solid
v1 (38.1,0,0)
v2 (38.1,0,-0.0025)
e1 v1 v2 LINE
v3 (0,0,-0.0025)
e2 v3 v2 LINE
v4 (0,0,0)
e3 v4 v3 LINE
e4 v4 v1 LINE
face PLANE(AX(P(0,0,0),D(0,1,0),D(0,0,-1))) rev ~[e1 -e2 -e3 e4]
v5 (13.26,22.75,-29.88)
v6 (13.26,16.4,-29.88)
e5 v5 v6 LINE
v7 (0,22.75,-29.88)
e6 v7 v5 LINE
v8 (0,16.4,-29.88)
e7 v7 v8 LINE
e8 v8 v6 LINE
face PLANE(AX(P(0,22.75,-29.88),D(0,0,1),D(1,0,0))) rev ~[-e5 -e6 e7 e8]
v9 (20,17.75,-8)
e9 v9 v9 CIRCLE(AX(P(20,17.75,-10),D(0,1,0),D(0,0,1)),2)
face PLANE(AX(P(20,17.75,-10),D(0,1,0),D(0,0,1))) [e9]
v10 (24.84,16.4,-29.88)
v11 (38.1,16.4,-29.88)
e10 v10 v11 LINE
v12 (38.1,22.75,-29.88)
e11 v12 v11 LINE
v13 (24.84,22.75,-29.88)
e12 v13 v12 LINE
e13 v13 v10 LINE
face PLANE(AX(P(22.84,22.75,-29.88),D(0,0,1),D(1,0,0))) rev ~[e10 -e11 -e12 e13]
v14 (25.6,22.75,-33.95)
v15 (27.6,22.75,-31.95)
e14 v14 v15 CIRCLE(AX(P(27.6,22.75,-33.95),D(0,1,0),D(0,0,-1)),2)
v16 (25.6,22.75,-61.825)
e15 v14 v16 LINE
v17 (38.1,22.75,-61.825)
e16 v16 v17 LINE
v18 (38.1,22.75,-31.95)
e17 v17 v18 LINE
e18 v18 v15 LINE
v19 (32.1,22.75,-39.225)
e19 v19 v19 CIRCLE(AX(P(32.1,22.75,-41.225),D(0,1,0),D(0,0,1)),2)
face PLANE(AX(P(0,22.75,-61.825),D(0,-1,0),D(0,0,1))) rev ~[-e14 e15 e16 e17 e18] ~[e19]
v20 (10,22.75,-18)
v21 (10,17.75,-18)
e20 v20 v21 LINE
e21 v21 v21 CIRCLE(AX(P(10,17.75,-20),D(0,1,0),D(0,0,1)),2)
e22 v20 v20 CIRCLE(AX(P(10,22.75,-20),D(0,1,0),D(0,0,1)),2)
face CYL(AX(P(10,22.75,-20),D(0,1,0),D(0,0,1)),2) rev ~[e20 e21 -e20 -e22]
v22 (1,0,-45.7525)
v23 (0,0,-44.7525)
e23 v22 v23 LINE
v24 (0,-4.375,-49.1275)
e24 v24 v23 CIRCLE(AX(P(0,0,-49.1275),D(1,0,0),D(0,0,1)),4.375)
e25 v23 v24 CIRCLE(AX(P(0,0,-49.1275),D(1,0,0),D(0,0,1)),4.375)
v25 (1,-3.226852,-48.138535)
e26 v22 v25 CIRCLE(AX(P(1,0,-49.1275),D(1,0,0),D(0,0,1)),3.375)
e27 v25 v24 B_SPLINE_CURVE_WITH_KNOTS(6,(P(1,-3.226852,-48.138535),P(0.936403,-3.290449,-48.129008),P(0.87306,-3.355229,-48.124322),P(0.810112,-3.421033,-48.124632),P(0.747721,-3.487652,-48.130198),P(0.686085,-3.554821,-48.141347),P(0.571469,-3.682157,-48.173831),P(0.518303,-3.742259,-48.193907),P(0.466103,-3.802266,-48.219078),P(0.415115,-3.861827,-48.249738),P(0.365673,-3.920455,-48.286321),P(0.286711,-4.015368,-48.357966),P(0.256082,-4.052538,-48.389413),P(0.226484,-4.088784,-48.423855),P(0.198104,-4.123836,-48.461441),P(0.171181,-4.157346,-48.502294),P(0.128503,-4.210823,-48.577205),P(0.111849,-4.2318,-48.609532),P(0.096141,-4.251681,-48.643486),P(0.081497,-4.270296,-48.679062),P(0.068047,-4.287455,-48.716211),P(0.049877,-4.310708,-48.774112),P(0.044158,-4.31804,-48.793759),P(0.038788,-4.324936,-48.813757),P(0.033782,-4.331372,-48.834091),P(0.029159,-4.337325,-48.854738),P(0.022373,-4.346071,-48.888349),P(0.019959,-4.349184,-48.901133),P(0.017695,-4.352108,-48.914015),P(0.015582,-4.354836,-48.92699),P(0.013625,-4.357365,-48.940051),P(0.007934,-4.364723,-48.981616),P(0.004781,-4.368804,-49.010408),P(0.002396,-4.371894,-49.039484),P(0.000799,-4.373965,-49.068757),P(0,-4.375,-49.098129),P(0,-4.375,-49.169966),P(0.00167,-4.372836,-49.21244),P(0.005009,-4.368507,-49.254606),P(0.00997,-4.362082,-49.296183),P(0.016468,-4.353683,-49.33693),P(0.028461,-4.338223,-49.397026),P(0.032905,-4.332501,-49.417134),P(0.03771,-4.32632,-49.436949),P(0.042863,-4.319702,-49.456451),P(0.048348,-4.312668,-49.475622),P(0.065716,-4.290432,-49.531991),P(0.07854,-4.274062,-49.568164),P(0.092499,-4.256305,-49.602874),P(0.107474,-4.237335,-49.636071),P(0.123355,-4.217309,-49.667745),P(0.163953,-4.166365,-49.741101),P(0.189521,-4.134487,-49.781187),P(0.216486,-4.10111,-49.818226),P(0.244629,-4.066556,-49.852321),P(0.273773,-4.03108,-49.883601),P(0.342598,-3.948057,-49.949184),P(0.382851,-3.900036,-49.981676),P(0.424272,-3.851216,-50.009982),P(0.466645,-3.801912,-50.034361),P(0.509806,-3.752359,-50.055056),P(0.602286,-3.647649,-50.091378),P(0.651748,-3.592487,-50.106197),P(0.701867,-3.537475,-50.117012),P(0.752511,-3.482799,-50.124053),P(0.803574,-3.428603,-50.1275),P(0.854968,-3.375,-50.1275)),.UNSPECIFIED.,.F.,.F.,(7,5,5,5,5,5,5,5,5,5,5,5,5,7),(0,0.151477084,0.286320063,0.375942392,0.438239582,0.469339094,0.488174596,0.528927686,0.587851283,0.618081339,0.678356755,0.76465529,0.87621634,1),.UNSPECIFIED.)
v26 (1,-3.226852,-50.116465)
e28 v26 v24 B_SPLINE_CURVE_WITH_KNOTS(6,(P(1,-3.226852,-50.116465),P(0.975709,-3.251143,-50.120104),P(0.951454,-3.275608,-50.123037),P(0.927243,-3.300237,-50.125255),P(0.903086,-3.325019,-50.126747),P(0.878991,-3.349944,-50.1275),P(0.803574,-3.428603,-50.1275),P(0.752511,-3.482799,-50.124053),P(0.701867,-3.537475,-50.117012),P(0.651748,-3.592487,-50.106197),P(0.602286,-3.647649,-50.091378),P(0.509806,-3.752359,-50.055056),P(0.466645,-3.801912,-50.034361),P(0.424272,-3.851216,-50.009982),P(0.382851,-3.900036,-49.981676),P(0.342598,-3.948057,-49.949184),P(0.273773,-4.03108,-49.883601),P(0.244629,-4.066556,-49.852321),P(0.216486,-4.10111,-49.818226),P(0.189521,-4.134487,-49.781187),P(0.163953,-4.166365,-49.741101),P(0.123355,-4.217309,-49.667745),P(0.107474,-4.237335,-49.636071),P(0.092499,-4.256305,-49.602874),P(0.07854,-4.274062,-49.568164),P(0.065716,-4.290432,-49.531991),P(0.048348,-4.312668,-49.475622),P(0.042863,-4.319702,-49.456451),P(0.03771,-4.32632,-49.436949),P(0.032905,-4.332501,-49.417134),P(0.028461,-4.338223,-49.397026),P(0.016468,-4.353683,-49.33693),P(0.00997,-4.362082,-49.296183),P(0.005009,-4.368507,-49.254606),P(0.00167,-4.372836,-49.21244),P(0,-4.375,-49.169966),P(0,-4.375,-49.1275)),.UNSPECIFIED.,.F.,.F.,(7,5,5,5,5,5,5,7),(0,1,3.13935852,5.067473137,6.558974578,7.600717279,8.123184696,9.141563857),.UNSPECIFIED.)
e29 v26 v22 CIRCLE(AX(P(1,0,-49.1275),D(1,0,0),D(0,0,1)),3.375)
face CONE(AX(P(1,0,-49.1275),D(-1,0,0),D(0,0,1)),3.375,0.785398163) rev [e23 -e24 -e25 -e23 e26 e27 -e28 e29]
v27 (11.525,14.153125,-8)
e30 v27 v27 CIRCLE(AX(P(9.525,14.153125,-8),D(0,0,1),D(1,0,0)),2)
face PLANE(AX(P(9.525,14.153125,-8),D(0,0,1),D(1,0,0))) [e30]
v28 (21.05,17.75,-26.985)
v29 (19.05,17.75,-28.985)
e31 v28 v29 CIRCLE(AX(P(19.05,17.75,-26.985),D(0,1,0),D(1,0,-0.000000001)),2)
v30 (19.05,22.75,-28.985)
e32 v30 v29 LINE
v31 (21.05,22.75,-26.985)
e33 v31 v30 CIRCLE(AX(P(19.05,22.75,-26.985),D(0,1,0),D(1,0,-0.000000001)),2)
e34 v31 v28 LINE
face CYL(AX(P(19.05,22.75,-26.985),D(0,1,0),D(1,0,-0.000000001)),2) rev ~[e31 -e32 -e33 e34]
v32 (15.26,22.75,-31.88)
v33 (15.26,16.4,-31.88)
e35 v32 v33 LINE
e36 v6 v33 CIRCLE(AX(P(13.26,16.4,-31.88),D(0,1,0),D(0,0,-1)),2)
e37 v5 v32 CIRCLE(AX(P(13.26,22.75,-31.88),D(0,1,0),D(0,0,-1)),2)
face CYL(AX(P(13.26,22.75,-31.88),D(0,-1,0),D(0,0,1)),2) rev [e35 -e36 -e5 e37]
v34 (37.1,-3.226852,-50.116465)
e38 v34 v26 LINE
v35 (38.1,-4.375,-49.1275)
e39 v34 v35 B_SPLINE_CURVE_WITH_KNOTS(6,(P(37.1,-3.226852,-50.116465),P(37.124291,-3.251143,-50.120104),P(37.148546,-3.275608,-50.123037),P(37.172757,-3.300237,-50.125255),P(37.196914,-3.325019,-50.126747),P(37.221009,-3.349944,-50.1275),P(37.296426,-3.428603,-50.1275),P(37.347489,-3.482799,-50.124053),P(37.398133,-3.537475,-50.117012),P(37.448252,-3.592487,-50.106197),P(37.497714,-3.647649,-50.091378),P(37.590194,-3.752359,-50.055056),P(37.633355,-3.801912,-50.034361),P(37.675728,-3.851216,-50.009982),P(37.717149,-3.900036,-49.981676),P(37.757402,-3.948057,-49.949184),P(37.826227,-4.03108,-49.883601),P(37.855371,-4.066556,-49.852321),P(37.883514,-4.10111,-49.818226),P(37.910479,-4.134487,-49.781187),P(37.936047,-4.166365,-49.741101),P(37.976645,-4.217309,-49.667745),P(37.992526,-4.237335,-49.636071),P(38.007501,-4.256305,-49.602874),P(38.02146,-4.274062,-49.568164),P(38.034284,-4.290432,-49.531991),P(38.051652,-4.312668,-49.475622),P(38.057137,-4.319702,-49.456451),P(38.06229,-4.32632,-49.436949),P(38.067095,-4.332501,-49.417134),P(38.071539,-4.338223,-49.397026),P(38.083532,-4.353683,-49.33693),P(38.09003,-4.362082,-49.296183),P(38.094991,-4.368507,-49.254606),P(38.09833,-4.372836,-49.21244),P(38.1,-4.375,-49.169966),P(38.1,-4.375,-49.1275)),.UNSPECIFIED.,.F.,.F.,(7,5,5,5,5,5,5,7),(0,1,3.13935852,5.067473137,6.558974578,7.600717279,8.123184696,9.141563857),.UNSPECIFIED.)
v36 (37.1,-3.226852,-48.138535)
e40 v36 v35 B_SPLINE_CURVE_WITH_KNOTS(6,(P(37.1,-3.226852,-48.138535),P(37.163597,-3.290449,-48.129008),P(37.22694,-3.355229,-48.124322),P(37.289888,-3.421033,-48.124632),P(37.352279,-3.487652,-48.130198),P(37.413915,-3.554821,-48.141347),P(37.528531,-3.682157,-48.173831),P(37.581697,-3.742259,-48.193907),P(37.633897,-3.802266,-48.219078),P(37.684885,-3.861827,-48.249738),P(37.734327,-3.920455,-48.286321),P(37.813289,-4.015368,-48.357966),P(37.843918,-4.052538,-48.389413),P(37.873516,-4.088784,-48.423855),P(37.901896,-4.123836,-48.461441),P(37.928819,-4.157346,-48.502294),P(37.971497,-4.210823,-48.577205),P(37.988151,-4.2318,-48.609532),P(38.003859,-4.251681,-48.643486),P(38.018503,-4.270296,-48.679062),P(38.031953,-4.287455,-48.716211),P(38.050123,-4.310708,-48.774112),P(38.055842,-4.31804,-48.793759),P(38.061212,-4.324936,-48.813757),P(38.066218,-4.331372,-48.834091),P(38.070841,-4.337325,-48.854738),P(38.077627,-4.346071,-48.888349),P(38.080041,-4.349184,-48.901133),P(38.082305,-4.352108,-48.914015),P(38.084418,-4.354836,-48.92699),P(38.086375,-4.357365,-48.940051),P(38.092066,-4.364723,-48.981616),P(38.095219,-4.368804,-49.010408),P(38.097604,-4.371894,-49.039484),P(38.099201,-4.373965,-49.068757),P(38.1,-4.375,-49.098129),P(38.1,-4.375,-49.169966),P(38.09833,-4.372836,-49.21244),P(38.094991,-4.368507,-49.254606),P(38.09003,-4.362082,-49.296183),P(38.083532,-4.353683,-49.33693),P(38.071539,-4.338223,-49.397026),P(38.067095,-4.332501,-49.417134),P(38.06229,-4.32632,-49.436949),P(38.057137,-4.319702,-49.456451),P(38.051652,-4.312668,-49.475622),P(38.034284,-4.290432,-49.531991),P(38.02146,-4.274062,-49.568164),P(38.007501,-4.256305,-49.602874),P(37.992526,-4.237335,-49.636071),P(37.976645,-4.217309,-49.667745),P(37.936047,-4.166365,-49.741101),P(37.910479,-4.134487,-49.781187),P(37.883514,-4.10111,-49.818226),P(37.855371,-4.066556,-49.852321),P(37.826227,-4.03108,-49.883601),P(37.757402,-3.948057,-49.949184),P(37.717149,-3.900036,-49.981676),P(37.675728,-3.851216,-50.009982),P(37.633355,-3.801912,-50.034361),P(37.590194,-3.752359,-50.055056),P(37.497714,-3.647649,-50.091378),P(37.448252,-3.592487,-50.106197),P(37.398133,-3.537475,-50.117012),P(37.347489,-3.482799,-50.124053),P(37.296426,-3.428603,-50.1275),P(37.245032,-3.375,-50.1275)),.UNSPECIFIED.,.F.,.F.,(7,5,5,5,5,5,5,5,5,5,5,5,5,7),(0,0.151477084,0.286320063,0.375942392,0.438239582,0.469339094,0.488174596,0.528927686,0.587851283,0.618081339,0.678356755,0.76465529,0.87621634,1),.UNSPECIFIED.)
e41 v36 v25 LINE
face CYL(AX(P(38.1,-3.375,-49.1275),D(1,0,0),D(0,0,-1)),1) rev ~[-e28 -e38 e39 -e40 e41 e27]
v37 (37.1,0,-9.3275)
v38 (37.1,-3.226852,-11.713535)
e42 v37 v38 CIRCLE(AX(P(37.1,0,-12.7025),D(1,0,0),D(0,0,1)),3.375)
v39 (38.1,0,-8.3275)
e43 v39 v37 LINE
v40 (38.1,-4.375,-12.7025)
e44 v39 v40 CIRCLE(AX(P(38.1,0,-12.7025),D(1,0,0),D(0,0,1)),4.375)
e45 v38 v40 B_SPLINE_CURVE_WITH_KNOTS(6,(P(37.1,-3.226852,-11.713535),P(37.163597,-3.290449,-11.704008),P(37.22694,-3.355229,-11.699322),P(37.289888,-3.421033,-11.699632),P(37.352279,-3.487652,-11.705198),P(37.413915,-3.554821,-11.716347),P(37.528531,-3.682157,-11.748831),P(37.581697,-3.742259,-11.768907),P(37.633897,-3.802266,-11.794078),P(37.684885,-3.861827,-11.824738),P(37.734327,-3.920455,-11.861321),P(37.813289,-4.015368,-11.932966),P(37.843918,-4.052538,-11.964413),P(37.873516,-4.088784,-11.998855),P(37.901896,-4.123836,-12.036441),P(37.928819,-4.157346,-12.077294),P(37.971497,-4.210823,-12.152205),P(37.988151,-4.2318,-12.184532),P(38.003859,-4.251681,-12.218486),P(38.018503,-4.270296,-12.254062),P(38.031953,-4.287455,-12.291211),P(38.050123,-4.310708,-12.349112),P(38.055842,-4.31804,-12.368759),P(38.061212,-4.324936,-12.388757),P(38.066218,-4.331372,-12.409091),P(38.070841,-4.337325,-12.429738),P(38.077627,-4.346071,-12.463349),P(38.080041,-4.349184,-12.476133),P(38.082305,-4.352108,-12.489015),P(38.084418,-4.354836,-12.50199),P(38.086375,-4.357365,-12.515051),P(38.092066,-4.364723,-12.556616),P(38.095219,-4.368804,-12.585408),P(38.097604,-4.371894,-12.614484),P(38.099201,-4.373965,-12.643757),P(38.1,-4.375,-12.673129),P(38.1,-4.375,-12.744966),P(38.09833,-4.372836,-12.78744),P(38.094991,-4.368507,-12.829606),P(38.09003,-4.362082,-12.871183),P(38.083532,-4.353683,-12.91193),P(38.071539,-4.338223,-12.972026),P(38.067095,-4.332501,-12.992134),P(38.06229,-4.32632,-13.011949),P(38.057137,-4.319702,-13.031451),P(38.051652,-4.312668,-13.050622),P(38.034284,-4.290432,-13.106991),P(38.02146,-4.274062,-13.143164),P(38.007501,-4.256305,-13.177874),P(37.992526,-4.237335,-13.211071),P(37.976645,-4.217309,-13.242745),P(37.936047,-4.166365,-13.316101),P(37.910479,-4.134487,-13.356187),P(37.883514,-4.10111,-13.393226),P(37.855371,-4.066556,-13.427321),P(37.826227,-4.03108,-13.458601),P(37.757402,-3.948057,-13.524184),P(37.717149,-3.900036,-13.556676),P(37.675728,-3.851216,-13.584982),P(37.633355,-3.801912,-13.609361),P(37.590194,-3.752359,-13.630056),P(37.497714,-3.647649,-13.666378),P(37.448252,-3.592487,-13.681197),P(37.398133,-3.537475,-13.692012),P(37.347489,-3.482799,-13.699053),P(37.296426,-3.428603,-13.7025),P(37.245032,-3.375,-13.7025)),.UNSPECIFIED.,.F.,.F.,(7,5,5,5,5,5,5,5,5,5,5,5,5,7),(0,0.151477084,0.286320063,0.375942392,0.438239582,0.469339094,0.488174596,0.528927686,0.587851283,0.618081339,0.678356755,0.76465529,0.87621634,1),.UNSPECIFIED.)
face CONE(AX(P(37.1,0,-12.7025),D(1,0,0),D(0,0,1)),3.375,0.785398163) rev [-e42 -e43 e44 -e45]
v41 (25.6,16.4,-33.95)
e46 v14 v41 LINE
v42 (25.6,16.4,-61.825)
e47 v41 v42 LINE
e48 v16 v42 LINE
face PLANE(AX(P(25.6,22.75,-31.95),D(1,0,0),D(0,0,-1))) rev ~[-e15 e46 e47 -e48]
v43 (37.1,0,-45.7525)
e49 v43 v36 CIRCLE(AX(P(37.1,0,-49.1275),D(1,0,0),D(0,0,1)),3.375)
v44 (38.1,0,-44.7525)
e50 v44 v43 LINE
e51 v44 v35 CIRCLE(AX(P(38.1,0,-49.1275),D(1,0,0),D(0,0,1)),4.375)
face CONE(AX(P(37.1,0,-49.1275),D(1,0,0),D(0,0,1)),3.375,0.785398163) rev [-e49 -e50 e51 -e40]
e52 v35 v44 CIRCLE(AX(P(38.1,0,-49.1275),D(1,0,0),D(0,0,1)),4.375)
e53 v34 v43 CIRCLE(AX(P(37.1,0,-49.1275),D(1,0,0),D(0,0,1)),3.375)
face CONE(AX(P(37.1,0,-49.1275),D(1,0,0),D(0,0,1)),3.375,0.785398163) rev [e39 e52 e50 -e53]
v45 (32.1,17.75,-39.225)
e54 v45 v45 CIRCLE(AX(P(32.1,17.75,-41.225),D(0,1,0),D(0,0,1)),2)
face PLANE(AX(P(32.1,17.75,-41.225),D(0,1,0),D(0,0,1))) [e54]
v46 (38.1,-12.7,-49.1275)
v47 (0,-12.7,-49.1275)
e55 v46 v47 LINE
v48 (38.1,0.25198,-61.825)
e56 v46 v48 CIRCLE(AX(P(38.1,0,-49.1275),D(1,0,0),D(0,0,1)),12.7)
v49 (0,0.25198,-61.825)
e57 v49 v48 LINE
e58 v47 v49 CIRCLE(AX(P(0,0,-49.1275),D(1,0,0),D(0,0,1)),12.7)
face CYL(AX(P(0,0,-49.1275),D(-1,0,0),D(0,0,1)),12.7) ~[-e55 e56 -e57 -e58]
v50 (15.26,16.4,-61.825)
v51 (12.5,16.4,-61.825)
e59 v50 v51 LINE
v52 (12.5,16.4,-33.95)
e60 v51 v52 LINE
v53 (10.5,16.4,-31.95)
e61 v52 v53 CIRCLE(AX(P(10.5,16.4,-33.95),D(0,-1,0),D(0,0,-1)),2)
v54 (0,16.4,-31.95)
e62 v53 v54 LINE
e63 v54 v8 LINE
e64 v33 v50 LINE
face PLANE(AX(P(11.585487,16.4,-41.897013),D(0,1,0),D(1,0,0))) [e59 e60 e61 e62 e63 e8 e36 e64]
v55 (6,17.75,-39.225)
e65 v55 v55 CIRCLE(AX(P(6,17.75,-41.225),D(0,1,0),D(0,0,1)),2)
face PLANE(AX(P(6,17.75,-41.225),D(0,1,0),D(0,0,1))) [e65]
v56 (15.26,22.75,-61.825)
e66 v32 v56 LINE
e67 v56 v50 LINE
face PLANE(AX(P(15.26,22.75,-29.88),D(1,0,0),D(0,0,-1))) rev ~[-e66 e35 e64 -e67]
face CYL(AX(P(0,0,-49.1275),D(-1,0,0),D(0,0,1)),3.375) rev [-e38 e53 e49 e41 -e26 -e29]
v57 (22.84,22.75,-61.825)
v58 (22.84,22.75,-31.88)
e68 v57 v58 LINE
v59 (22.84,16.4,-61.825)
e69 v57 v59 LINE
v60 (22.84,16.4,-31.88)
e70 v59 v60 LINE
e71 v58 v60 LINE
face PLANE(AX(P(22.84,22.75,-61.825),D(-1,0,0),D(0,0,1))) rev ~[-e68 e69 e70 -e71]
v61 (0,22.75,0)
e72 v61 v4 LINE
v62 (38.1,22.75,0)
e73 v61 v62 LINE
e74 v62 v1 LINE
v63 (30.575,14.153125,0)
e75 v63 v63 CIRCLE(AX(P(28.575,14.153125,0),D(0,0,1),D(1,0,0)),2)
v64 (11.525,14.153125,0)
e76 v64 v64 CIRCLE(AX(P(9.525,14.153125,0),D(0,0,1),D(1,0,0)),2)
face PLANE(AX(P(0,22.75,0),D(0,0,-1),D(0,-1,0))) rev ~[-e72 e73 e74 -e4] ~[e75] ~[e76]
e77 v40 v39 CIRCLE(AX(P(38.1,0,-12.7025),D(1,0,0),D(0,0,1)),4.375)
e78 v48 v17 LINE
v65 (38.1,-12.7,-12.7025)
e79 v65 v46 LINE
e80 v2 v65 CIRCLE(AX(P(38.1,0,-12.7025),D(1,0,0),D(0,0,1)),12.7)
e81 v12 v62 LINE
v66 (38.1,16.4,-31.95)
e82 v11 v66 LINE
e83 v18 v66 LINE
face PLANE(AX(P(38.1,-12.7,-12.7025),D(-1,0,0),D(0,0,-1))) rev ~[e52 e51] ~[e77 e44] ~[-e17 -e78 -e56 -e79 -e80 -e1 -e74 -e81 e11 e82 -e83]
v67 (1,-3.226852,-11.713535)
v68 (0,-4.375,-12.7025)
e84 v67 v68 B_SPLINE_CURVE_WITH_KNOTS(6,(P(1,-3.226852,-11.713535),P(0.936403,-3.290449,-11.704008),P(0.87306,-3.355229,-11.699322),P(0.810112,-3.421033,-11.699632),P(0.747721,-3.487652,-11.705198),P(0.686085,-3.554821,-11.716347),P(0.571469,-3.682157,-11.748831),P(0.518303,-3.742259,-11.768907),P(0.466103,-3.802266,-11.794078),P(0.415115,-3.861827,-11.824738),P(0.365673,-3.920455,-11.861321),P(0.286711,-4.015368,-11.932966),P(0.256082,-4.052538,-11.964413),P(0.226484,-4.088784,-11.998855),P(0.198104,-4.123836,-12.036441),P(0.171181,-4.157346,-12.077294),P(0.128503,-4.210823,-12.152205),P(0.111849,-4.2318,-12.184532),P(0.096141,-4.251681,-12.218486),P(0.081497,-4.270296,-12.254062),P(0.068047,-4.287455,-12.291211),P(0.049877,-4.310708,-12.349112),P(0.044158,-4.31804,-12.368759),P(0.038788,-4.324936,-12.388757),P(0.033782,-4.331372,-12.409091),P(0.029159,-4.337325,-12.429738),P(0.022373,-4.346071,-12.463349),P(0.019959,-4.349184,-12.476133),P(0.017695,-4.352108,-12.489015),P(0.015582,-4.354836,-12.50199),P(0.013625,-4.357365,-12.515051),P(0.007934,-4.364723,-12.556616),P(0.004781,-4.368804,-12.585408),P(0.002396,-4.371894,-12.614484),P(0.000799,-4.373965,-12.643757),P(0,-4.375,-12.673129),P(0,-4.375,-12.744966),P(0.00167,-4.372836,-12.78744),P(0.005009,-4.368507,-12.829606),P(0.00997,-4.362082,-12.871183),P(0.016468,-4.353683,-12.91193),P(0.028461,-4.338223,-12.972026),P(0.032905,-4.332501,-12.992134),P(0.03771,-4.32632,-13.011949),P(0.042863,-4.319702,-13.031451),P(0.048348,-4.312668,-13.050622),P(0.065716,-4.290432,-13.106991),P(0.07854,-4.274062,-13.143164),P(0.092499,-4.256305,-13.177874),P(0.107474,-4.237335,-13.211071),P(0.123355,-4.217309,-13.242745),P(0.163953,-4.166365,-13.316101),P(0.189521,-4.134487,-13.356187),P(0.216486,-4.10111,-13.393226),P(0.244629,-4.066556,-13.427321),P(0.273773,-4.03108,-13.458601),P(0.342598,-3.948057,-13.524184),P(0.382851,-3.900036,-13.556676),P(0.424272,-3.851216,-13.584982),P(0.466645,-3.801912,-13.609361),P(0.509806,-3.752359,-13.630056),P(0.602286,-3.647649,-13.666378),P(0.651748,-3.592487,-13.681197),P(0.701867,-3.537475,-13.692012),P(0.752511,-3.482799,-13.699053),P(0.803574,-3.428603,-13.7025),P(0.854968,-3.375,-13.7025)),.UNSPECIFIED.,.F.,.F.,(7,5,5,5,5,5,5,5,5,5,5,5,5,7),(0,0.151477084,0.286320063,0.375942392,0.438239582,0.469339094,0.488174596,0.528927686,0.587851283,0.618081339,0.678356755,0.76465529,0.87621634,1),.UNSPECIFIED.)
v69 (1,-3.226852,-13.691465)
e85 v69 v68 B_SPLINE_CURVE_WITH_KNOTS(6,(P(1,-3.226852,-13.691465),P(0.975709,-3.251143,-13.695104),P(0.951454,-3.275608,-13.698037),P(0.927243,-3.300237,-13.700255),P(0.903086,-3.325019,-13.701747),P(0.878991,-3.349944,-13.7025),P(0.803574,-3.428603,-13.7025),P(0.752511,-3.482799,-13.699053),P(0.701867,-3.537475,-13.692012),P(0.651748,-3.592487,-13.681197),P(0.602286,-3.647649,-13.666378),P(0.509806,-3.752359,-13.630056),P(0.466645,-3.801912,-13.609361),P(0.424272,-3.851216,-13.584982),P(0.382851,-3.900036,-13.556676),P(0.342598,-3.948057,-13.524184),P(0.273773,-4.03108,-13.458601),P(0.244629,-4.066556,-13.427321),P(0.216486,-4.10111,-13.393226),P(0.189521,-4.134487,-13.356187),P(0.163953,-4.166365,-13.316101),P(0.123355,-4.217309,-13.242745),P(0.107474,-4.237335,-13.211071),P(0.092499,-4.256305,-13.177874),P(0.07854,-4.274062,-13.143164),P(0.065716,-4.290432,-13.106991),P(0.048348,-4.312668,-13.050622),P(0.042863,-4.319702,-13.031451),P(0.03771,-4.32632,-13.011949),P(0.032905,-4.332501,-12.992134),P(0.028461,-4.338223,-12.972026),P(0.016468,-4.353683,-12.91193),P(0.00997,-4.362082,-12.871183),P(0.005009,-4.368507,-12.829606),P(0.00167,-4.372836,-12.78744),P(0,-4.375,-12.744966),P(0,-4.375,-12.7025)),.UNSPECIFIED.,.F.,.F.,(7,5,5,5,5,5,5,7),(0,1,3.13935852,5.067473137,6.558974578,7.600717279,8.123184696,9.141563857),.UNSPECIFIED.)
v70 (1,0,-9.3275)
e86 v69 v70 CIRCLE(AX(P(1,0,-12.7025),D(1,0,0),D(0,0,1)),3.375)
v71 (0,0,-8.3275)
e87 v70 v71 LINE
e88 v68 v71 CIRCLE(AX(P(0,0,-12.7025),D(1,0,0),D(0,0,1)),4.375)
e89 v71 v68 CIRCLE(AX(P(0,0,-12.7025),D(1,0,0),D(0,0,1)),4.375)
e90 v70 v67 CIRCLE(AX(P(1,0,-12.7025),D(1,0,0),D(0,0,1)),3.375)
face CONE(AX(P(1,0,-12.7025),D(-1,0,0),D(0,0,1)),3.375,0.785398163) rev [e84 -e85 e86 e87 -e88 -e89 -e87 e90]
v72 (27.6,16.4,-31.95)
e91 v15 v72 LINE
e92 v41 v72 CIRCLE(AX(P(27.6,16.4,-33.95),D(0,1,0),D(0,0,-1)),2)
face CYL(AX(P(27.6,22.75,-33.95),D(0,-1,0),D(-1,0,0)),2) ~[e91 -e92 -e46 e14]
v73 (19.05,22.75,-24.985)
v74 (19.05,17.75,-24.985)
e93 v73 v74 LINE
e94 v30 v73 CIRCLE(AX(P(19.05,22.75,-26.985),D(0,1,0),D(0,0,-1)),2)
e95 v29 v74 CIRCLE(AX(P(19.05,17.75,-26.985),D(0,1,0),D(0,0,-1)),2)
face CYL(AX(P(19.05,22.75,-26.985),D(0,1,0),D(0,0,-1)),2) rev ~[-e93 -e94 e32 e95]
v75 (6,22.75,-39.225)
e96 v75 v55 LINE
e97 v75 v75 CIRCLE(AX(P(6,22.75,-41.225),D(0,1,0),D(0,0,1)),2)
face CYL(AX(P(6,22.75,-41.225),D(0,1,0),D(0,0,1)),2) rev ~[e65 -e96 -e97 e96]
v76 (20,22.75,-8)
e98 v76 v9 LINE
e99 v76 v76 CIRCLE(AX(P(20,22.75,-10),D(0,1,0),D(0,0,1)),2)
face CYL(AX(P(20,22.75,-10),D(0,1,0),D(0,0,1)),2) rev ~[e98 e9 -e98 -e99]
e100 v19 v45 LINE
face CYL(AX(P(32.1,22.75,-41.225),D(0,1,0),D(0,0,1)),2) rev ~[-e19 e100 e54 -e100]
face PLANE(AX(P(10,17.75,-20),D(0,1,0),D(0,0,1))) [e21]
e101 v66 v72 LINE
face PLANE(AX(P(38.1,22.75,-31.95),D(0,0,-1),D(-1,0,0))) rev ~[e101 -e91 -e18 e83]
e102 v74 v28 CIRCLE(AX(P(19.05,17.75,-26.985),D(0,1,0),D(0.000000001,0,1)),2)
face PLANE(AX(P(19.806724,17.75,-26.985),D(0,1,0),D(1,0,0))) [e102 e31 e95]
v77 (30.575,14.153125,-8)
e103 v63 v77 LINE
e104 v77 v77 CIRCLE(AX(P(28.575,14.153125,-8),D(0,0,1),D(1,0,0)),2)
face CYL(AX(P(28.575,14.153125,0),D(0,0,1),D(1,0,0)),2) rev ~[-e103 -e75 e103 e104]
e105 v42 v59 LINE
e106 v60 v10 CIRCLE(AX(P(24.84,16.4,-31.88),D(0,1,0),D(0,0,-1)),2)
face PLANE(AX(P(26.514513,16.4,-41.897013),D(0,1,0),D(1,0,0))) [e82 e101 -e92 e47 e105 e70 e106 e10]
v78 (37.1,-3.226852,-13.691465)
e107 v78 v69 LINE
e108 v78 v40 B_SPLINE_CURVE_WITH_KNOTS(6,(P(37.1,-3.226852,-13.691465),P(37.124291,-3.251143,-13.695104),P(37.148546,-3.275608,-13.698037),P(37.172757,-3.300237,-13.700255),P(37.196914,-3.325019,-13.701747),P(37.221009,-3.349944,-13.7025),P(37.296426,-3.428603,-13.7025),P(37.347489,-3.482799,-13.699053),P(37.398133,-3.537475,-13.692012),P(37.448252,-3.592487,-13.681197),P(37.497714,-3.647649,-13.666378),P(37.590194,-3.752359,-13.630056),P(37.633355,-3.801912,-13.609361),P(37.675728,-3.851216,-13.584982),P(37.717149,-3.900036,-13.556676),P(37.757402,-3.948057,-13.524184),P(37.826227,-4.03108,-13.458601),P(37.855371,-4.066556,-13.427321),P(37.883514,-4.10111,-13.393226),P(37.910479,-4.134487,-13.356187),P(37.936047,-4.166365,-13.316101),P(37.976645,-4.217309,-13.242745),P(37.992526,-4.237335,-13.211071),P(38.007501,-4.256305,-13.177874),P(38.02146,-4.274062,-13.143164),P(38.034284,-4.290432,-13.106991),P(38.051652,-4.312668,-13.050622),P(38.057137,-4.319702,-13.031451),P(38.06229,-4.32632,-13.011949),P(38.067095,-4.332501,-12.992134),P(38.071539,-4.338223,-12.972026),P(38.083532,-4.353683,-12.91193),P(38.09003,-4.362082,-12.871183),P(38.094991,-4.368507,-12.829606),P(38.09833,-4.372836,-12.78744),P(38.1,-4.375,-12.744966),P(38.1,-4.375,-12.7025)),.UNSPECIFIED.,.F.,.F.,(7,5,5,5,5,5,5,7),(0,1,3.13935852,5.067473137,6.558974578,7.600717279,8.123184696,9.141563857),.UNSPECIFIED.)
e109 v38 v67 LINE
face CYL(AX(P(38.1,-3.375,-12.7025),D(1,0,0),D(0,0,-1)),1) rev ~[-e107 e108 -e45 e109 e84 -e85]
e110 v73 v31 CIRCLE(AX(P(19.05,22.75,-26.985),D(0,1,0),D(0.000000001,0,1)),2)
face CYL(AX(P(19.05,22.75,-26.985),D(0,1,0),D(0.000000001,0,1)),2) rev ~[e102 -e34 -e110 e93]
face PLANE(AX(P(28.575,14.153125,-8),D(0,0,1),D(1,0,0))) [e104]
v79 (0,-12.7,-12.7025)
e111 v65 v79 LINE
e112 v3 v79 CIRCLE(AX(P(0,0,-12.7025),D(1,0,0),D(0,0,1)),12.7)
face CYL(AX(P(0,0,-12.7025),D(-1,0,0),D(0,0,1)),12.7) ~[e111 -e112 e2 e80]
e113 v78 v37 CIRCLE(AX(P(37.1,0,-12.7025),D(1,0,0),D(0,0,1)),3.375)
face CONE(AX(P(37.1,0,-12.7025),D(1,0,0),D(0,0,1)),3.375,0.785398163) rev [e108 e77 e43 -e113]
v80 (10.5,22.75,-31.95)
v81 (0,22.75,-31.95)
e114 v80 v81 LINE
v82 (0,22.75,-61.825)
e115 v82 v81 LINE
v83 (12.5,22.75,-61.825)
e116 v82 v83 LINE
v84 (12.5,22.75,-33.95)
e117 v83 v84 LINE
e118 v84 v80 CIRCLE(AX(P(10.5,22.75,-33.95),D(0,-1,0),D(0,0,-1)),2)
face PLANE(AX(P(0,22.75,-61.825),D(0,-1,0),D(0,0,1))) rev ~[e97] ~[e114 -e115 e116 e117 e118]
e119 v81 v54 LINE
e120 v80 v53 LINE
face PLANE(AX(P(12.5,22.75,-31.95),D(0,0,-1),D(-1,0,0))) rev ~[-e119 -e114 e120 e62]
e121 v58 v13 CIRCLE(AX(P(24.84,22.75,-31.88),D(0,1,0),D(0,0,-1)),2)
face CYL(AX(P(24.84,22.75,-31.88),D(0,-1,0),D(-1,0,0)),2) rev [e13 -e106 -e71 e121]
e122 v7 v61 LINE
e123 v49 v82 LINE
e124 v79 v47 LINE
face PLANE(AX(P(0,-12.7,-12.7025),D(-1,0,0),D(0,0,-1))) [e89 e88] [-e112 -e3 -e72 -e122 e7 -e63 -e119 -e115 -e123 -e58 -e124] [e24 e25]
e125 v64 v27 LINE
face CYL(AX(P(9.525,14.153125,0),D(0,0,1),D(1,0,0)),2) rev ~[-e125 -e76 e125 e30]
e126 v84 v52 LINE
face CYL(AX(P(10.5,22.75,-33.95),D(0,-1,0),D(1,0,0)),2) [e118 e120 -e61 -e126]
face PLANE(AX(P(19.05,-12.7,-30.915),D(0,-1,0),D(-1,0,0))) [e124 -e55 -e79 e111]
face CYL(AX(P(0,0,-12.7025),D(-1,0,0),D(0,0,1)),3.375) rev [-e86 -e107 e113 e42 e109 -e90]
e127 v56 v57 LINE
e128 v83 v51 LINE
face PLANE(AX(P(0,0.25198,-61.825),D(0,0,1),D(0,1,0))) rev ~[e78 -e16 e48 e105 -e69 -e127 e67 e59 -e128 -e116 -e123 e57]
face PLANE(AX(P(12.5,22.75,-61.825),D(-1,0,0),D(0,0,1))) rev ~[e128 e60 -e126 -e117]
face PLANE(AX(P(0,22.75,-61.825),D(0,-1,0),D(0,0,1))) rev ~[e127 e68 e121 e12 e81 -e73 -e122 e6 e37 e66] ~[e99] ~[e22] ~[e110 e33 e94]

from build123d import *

# Parameters (mm, degrees)
SKETCH1_R           = 3.375
BOSS_EXTRUDE2_DEPTH = 38.1
BOSS_EXTRUDE3_REACH = 82.814
SKETCH6_W           = 38.1
SKETCH6_H           = 36.425
SKETCH10_R          = 2
CUT_EXTRUDE6_DEPTH  = 8
CHAMFER1_SIZE       = 1
CUT_EXTRUDE11_DEPTH = 6.35
SKETCH16_R          = 2
CUT_EXTRUDE10_DEPTH = 5
SKETCH17_R          = 1
CUT_EXTRUDE12_DEPTH = 77.103956903
FILLET1_R           = 2


with BuildPart() as part:
    # Sketch1 → Boss-Extrude2 (new body)
    with BuildSketch(Plane(origin=(0, 0, 0), x_dir=(0, 0, -1), z_dir=(1, 0, 0))):
        with BuildLine():
            Line((61.825, 22.75), (0, 22.75))
            Line((0, 22.75), (0, 0))
            Line((0, 0), (0.0025, 0))
            ThreePointArc((0.0025, 0), (12.7025, -12.7), (25.4025, 0))
            Line((25.4025, 0), (36.4275, 0))
            ThreePointArc((36.4275, 0), (49.253496032, -12.699374985), (61.825, 0.251979662))
            Line((61.825, 0.251979662), (61.825, 22.75))
        make_face()
        with Locations(Location((49.1275, 0, 0), (0, 0, 180))):
            Circle(SKETCH1_R, mode=Mode.SUBTRACT)
        with Locations(Location((12.7025, 0, 0), (0, 0, 180))):
            Circle(SKETCH1_R, mode=Mode.SUBTRACT)
    extrude(amount=BOSS_EXTRUDE2_DEPTH)

    # Sketch6 → Boss-Extrude3 (add, up to next)
    with BuildSketch(Plane(origin=(0, -12.7, 0), x_dir=(-1, 0, 0), z_dir=(0, -1, 0)), mode=Mode.PRIVATE) as boss_extrude3_sk1:
        with Locations((-19.05, 30.915)):
            Rectangle(SKETCH6_W, SKETCH6_H)
    boss_extrude3_tool1 = extrude(boss_extrude3_sk1.sketch, amount=-BOSS_EXTRUDE3_REACH, mode=Mode.PRIVATE) - part.part
    add(boss_extrude3_tool1.solids().sort_by_distance((19.05, -12.7, -30.915))[0])

    # Sketch10 → Cut-Extrude6 (cut)
    with BuildSketch(Plane.XY):
        with Locations((9.525, 14.153125)):
            Circle(SKETCH10_R)
        with Locations((28.575, 14.153125)):
            Circle(SKETCH10_R)
    extrude(amount=-CUT_EXTRUDE6_DEPTH, mode=Mode.SUBTRACT)

    # Chamfer1
    chamfer1_edges = [part.edges().sort_by_distance(p)[0] for p in [
        (0, 0, -16.0775),
        (0, 0, -52.5025),
        (38.1, 0, -16.0775),
        (38.1, 0, -52.5025),
    ]]
    chamfer(chamfer1_edges, length=CHAMFER1_SIZE)

    # Sketch15 → Cut-Extrude11 (cut)
    with BuildSketch(Plane(origin=(0, 22.75, 0), x_dir=(1, 0, 0), z_dir=(0, 1, 0))):
        Polygon((12.5, 31.95), (0, 31.95), (0, 29.88), (15.26, 29.88), (15.26, 61.825), (12.5, 61.825), align=None)
        Polygon((25.6, 61.825), (22.84, 61.825), (22.84, 29.88), (38.1, 29.88), (38.1, 31.95), (25.6, 31.95), align=None)
    extrude(amount=-CUT_EXTRUDE11_DEPTH, mode=Mode.SUBTRACT)

    # Sketch16 → Cut-Extrude10 (cut)
    with BuildSketch(Plane(origin=(0, 22.75, 0), x_dir=(1, 0, 0), z_dir=(0, 1, 0))):
        with Locations(Location((32.1, 41.225, 0), (0, 0, 270))):
            Circle(SKETCH16_R)
        with BuildLine():
            ThreePointArc((21.05, 26.985), (20.464213562, 28.399213562), (19.05, 28.985))
            Line((19.05, 28.985), (19.05, 24.985))
            ThreePointArc((19.05, 24.985), (20.464213562, 25.570786438), (21.05, 26.985))
        make_face()
        with BuildLine():
            Line((19.05, 24.985), (19.05, 28.985))
            ThreePointArc((19.05, 28.985), (17.05, 26.985), (19.05, 24.985))
        make_face()
        with Locations(Location((6, 41.225, 0), (0, 0, 270))):
            Circle(SKETCH16_R)
        with Locations(Location((10, 20, 0), (0, 0, 270))):
            Circle(SKETCH16_R)
        with Locations(Location((20, 10, 0), (0, 0, 270))):
            Circle(SKETCH16_R)
    extrude(amount=-CUT_EXTRUDE10_DEPTH, mode=Mode.SUBTRACT)

    # Sketch17 → Cut-Extrude12 (cut, through all)
    with BuildSketch(Plane(origin=(38.1, 0, 0), x_dir=(0, 0, -1), z_dir=(1, 0, 0))):
        with Locations((12.7025, -3.375)):
            Circle(SKETCH17_R)
        with Locations((49.1275, -3.375)):
            Circle(SKETCH17_R)
    extrude(amount=-CUT_EXTRUDE12_DEPTH, mode=Mode.SUBTRACT)

    # Fillet1
    fillet1_edges = [part.edges().sort_by_distance(p)[0] for p in [
        (15.26, 19.575, -29.88),
        (12.5, 19.575, -31.95),
        (22.84, 19.575, -29.88),
        (25.6, 19.575, -31.95),
    ]]
    fillet(fillet1_edges, radius=FILLET1_R)


solid = part.part
